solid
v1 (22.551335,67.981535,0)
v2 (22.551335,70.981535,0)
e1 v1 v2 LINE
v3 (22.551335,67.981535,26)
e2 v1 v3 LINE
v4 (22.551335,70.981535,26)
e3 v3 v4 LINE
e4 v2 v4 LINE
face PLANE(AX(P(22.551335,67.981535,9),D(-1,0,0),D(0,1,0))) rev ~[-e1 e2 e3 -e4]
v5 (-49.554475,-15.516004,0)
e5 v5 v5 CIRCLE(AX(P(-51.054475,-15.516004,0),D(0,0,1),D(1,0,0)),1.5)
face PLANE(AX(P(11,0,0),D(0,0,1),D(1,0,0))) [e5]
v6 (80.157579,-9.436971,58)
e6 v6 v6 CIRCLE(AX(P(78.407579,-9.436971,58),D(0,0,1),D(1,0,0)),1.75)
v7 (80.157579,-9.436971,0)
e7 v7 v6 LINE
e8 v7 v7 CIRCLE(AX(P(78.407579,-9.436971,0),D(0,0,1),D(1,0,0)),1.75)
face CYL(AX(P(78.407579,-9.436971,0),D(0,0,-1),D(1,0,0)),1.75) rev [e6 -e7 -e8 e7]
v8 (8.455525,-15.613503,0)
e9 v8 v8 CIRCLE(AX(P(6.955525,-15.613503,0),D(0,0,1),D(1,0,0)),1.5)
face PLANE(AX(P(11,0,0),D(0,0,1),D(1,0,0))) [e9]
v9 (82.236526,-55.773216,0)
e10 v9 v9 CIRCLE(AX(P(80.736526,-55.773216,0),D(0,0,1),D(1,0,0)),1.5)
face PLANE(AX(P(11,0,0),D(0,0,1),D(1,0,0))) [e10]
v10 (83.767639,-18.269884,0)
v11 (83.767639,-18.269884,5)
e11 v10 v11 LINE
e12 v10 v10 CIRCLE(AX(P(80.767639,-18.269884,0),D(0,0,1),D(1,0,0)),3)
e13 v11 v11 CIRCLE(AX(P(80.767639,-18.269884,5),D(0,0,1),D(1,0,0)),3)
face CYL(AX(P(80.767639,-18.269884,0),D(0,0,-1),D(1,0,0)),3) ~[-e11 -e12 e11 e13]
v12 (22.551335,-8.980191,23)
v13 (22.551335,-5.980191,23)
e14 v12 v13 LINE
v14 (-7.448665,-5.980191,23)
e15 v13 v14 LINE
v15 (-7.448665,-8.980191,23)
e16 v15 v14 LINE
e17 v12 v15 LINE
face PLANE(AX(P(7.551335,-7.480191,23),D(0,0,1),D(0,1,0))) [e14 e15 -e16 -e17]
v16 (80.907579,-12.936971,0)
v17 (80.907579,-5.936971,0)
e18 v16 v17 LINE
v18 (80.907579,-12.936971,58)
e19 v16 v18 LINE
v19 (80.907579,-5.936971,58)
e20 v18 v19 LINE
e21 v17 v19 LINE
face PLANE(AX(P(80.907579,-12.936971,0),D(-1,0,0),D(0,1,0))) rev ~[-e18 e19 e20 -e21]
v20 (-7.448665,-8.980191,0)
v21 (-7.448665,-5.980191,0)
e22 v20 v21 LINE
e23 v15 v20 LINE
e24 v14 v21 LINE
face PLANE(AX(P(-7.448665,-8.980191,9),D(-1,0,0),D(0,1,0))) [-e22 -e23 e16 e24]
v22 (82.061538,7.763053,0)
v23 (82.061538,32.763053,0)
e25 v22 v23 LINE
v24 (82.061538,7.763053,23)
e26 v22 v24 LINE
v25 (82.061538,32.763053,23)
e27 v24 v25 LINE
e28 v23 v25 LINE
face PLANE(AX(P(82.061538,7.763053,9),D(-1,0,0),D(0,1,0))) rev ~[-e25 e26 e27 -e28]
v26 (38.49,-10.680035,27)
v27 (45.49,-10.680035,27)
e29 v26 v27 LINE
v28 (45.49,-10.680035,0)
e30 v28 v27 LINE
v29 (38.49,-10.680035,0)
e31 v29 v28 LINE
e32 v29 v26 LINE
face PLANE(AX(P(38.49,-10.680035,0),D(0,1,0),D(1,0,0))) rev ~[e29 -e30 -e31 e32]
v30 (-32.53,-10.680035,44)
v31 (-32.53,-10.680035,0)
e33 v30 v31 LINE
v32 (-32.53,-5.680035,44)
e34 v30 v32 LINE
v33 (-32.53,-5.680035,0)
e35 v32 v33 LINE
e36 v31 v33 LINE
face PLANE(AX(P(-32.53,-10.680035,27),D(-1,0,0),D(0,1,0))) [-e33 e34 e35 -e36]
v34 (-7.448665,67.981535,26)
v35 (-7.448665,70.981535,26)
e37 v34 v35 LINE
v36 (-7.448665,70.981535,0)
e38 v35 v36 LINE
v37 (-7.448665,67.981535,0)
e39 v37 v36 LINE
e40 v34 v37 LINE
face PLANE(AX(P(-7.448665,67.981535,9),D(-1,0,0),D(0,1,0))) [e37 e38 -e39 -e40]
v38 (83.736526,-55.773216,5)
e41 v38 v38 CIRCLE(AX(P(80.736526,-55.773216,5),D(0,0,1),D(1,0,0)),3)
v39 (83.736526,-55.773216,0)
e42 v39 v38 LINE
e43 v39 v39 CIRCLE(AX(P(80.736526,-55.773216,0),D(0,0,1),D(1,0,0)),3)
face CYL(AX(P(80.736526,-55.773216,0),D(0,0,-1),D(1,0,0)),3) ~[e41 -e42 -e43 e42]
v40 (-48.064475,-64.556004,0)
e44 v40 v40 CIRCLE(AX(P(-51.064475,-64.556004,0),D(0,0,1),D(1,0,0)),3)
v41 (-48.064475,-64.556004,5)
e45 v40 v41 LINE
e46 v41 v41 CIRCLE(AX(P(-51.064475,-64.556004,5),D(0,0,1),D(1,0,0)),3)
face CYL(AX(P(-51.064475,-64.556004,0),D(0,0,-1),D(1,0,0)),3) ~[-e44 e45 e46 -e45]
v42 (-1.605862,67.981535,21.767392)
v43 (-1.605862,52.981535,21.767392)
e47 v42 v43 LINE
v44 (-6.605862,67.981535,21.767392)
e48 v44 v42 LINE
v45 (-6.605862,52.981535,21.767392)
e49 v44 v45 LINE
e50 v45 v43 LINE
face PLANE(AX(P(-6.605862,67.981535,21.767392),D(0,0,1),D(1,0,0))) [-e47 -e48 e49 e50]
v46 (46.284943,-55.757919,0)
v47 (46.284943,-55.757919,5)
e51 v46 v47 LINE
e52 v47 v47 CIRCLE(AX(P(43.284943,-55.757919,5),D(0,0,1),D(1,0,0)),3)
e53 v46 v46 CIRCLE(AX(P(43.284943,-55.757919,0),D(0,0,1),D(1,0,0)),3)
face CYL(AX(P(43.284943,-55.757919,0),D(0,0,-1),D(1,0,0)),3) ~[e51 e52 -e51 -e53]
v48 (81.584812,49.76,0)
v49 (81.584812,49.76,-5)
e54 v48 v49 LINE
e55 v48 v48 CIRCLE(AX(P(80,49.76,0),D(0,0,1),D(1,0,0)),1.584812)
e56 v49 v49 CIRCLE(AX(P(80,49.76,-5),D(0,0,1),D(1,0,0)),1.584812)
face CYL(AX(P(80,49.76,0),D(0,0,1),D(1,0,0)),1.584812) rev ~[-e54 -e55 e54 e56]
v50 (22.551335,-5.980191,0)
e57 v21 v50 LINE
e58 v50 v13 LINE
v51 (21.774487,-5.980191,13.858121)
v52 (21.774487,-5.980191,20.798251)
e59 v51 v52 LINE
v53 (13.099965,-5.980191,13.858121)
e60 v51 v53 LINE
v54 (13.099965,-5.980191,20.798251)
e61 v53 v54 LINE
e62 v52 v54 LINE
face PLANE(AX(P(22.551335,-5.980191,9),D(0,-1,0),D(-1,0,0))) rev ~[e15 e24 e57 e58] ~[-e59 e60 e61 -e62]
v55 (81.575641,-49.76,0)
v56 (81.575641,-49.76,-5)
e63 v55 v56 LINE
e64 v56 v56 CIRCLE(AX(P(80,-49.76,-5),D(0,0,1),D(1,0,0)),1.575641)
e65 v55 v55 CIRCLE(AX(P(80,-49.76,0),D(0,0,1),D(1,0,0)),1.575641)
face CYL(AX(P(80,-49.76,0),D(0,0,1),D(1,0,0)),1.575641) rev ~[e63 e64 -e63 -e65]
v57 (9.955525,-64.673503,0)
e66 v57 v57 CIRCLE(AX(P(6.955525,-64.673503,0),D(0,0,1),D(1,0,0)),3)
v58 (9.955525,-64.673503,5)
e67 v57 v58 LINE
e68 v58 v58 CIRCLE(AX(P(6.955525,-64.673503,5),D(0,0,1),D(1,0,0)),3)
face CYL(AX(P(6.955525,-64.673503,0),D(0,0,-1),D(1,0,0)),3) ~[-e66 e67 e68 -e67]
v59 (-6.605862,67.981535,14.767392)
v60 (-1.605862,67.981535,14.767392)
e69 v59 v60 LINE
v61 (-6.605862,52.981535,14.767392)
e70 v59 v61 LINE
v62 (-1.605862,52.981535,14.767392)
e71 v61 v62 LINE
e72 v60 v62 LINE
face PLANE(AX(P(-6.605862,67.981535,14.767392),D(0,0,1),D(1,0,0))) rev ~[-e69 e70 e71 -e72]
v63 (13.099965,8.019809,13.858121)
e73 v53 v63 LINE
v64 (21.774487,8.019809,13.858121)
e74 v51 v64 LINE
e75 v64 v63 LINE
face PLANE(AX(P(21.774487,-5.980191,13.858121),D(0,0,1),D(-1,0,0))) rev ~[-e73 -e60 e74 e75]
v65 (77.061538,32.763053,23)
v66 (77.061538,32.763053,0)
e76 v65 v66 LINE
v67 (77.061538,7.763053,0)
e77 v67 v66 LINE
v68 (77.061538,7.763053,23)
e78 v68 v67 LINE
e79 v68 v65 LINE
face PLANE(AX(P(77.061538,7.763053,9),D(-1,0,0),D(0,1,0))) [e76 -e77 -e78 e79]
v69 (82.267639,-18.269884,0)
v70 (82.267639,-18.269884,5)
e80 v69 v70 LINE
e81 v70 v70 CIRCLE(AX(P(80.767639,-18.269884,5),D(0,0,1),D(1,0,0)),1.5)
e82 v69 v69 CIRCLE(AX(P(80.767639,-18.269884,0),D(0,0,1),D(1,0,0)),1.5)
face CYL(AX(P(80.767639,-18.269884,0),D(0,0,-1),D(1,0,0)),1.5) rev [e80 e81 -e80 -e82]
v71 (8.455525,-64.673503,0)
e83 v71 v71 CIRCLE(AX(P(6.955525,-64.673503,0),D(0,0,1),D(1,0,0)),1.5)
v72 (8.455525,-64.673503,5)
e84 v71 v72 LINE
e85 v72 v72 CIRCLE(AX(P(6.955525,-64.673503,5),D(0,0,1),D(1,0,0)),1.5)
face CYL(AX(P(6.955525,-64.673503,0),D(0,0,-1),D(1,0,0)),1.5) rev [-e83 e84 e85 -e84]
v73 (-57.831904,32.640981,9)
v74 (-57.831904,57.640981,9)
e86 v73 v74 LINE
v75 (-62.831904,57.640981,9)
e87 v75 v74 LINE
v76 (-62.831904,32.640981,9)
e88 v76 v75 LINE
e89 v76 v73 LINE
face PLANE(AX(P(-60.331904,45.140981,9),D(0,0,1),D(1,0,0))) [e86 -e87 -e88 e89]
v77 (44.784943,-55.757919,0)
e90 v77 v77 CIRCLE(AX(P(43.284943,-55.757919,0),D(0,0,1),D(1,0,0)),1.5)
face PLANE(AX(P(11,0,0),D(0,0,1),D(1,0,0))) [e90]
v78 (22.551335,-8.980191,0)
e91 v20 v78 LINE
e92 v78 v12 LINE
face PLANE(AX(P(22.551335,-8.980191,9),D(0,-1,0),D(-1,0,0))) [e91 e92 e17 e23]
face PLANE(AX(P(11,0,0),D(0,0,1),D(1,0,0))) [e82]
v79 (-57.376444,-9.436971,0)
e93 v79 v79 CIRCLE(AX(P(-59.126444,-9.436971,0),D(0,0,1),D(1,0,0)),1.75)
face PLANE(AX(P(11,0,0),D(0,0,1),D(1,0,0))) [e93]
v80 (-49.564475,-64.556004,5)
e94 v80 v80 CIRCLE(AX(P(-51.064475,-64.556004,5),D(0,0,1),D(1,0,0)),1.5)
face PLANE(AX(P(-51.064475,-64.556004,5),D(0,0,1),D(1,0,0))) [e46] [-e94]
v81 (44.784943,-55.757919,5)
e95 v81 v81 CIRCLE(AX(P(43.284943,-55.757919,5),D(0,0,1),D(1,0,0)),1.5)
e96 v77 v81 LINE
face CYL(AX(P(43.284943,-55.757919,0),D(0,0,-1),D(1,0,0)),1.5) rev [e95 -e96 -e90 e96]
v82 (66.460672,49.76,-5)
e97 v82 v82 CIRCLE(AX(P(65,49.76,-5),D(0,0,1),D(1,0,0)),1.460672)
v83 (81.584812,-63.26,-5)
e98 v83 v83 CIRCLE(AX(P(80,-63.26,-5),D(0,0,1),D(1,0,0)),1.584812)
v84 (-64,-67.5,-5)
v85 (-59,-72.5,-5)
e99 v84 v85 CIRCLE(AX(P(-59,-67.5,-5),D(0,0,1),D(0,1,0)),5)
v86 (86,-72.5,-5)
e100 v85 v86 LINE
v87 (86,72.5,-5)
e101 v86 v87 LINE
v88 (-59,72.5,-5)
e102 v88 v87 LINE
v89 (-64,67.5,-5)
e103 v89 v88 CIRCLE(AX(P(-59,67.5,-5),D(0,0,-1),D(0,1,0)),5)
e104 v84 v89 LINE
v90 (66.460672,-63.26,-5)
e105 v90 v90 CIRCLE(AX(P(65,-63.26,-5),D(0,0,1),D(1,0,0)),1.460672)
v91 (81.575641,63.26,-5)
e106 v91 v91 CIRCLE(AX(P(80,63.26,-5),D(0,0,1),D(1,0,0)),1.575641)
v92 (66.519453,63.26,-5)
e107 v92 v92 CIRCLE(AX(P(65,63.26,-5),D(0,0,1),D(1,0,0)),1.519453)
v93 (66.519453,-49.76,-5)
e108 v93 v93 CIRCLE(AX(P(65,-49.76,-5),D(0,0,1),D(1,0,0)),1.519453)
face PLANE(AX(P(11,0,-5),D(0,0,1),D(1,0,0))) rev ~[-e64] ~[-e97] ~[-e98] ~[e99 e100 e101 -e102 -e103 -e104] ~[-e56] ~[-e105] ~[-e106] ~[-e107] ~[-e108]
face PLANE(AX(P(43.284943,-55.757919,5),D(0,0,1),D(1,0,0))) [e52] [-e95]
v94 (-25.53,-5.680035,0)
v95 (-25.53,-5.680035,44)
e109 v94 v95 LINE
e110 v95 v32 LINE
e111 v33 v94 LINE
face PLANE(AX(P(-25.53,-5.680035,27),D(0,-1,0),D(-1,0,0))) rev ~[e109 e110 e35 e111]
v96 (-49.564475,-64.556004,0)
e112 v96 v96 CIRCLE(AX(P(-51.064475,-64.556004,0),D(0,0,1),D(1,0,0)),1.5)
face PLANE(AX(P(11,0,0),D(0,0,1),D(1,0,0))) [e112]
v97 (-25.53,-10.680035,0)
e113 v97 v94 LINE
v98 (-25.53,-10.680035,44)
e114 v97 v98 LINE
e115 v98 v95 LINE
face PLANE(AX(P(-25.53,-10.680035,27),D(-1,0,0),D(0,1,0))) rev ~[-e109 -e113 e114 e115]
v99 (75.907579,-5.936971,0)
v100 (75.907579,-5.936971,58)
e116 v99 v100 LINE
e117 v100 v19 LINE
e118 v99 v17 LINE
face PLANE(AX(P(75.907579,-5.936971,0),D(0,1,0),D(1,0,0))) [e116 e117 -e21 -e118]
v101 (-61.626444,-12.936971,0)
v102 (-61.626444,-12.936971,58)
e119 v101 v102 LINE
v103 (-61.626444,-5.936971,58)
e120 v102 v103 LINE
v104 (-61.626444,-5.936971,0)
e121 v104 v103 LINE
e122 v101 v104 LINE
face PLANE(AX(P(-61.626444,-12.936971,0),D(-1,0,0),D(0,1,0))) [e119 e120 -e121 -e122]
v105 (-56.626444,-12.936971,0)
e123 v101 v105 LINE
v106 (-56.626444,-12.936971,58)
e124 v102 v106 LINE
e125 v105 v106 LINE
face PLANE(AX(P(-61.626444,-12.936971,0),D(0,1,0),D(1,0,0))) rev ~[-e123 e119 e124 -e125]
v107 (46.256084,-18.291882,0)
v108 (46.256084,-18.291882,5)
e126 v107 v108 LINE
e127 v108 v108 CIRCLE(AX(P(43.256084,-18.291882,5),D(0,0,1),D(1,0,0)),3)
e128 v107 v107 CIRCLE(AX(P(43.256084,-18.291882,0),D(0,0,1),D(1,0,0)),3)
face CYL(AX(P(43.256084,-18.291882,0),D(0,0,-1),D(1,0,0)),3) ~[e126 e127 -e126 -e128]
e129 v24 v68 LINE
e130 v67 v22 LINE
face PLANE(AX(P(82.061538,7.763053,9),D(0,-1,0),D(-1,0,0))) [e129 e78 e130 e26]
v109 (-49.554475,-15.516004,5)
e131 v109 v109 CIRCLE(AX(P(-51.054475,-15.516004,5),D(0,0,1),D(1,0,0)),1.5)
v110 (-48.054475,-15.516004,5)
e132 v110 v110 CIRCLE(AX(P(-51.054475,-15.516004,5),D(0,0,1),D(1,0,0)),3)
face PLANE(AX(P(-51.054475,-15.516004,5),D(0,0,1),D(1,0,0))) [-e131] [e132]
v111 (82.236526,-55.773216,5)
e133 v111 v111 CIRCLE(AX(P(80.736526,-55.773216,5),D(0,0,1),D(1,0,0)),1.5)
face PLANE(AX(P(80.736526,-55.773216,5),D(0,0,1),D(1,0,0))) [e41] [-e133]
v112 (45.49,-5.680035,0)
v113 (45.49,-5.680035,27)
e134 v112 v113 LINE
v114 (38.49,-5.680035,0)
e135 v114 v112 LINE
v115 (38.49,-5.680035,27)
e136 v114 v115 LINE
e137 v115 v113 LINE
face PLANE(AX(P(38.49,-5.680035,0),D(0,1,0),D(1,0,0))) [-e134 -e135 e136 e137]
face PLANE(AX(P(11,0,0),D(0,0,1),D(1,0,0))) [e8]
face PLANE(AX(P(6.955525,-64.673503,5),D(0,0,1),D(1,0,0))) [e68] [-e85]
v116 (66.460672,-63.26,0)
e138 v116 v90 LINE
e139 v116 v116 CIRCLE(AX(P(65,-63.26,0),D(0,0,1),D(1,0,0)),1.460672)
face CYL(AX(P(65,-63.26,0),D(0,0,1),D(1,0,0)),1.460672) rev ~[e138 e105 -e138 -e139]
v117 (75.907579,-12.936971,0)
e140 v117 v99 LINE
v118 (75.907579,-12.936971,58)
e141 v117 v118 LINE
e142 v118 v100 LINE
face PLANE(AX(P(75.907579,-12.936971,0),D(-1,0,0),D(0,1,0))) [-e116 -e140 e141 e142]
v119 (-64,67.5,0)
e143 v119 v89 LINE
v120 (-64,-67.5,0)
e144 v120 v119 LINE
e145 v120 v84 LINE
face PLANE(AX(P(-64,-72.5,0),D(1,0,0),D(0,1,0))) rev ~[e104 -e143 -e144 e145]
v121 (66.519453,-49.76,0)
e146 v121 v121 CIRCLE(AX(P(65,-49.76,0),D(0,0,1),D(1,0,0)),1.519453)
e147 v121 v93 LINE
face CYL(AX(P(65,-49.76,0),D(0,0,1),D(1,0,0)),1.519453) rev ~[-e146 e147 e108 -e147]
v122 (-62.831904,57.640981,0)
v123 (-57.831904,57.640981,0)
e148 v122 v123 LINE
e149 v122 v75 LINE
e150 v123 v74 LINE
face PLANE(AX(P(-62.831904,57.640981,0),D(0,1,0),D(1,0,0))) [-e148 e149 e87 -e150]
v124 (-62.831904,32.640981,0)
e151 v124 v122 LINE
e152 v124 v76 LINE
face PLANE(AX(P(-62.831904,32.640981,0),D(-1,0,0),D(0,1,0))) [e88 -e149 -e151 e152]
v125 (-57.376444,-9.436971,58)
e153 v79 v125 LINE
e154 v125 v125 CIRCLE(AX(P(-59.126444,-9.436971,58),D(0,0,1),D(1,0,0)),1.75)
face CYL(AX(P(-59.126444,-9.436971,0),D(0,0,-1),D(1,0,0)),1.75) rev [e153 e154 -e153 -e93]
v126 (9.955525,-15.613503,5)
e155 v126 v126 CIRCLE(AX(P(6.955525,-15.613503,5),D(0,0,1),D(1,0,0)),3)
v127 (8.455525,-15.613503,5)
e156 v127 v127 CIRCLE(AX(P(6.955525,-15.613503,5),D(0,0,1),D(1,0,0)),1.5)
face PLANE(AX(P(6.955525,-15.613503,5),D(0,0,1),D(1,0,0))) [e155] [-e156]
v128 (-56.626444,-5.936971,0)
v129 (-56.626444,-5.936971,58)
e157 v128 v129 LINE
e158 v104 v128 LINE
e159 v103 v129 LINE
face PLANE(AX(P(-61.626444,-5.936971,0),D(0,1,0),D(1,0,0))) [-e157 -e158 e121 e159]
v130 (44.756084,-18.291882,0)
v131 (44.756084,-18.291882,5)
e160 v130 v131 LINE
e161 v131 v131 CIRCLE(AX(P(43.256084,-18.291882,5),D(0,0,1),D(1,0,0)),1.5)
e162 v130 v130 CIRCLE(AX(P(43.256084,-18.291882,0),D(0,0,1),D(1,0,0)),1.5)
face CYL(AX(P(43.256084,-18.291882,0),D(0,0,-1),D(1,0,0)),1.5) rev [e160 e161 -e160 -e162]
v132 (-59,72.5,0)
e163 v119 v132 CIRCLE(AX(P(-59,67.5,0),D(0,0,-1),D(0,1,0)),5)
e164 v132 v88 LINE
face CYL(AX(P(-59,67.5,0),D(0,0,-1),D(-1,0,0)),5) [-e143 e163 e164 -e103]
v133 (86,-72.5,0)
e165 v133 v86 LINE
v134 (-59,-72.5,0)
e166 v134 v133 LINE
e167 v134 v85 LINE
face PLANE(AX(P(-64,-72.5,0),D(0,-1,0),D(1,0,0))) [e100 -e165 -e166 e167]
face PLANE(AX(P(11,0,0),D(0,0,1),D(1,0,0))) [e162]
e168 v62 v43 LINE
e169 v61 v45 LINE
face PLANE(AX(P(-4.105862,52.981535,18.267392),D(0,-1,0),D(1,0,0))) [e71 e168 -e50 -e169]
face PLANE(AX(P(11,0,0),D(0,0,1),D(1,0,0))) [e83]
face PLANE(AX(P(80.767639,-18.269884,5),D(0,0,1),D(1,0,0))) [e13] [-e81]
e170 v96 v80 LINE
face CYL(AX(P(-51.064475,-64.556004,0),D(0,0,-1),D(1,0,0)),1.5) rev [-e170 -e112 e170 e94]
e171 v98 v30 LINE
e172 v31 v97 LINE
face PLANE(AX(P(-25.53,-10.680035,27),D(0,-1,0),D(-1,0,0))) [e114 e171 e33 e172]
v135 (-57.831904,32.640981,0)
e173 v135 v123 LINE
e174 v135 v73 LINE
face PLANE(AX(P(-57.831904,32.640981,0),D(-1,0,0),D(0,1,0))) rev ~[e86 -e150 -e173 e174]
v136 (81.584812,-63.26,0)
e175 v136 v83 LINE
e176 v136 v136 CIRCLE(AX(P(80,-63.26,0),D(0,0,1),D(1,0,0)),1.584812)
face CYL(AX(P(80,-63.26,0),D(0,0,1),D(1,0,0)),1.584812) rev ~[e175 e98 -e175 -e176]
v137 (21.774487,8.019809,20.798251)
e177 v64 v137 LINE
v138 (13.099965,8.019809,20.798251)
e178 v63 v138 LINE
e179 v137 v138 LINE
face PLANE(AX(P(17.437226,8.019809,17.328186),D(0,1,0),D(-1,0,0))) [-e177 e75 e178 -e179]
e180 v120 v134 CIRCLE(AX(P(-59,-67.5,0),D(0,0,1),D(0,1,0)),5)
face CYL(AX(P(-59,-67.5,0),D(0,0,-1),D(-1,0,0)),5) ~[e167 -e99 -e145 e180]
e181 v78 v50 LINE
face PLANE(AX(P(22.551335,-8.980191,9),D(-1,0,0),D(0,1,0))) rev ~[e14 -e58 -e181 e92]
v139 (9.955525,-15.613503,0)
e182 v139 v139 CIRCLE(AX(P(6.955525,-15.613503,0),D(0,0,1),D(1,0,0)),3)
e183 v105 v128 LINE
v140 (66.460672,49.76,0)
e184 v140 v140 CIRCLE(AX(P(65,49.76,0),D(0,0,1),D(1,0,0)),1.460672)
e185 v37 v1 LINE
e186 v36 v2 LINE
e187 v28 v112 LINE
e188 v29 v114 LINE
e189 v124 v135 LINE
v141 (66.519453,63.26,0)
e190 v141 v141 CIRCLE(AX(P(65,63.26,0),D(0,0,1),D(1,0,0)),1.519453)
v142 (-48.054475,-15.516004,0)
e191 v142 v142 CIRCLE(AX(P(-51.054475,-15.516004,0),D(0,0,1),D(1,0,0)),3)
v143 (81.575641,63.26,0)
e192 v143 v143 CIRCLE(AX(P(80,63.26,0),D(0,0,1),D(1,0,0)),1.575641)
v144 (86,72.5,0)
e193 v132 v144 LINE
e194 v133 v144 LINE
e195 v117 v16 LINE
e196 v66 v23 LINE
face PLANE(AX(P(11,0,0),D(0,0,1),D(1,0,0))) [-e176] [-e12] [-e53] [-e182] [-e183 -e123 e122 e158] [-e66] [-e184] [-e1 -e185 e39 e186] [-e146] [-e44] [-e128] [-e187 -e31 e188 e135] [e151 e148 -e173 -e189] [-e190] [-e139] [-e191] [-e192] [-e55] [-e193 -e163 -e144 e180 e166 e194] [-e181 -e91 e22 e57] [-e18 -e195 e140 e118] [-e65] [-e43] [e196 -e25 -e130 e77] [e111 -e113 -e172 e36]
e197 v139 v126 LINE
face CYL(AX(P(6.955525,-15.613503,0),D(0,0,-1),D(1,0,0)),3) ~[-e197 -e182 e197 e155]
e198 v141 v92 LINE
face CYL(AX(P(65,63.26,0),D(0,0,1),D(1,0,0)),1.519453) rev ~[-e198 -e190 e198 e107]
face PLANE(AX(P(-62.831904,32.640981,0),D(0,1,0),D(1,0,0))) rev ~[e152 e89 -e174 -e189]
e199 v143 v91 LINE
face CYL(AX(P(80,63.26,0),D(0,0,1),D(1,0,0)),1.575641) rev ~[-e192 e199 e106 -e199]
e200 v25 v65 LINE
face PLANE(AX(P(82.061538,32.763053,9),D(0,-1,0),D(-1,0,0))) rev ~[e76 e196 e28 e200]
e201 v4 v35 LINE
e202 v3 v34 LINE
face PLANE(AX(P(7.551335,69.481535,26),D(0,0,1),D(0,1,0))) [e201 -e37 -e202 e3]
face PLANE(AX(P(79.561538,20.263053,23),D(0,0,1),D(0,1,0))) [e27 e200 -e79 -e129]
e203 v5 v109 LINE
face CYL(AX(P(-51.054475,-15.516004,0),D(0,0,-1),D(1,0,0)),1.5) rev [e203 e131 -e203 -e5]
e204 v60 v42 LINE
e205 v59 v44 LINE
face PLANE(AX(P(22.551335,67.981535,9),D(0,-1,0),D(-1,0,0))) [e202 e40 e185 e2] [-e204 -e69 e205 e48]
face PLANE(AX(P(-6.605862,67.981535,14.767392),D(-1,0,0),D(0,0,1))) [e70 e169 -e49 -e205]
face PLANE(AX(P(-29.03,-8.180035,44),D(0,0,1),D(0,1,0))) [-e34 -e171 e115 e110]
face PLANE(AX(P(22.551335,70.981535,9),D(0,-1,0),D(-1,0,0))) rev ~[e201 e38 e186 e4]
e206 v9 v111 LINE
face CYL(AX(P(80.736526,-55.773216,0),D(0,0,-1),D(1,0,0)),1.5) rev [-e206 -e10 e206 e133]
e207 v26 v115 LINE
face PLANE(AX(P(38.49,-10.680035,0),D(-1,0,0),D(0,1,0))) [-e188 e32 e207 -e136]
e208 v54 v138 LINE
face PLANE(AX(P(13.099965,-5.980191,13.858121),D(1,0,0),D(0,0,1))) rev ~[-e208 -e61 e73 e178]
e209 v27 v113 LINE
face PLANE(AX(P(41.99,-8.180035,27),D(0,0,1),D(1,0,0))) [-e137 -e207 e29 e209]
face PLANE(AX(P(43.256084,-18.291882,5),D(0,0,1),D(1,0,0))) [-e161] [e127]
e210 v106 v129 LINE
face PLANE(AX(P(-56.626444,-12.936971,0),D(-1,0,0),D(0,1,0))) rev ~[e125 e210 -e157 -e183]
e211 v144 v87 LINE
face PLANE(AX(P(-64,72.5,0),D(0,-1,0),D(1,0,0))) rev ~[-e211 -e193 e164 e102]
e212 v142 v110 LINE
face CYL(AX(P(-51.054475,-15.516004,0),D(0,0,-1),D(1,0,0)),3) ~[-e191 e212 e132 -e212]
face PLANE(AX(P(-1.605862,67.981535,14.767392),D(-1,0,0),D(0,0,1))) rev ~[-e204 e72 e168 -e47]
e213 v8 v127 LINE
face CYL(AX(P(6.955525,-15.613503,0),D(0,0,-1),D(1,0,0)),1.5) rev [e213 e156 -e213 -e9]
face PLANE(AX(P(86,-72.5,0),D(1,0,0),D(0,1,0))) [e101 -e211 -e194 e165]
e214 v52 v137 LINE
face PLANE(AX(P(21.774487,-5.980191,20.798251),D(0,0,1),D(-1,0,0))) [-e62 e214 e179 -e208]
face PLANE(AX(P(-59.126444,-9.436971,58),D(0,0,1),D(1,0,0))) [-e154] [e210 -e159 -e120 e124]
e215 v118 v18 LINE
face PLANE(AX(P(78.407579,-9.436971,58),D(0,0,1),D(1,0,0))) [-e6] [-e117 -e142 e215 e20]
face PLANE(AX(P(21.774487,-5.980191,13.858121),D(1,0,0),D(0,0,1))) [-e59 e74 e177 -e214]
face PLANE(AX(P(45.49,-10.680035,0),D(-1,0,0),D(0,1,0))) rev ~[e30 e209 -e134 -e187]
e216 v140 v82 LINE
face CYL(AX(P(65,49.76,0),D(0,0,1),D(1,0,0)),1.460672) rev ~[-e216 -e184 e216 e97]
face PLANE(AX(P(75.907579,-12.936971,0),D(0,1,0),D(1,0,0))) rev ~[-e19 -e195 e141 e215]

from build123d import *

# Parameters (mm, degrees)
SKETCH_W        = 150
SKETCH_H        = 145
PAD_DEPTH       = 5
SKETCH001_R     = 1.519453
SKETCH001_R_2   = 1.575641
SKETCH001_R_3   = 1.584812
SKETCH001_R_4   = 1.460672
POCKET_DEPTH    = 5
SKETCH003_R     = 3
SKETCH003_R_2   = 1.5
PAD002_DEPTH    = 5
SKETCH004_W     = 5
SKETCH004_H     = 25
SKETCH004_W_2   = 30
SKETCH004_H_2   = 3
PAD003_DEPTH    = 9
SKETCH005_W     = 7
SKETCH005_H     = 5
PAD004_DEPTH    = 27
PAD003_FACE49_W = 3
PAD003_FACE49_H = 30
PAD006_DEPTH    = 17
SKETCH008_W     = 5
SKETCH008_H     = 7
PAD007_DEPTH    = 15
PAD007_FACE50_W = 5
PAD007_FACE50_H = 7
PAD008_DEPTH    = 17
PAD008_FACE55_W = 3
PAD008_FACE55_H = 30
PAD009_DEPTH    = 14
SKETCH009_W     = 8.674523
SKETCH009_H     = 6.940131
PAD010_DEPTH    = 14
PAD010_FACE69_W = 25
PAD010_FACE69_H = 5
PAD011_DEPTH    = 14
SKETCH012_W     = 5
SKETCH012_H     = 7
SKETCH012_R     = 1.75
PAD013_DEPTH    = 58
FILLET001_R     = 5


with BuildPart() as part:
    # Sketch → Pad (new body)
    with BuildSketch(Plane.XY):
        Rectangle(SKETCH_W, SKETCH_H)
    extrude(amount=-PAD_DEPTH)

    # Sketch001 (on Face5 of Pad) → Pocket (cut)
    with BuildSketch(Plane.XY):
        with Locations((54, 63.26)):
            Circle(SKETCH001_R)
        with Locations((69, 63.26)):
            Circle(SKETCH001_R_2)
        with Locations((69, 49.76)):
            Circle(SKETCH001_R_3)
        with Locations((54, 49.76)):
            Circle(SKETCH001_R_4)
        with Locations((54, -49.76)):
            Circle(SKETCH001_R)
        with Locations((69, -49.76)):
            Circle(SKETCH001_R_2)
        with Locations((69, -63.26)):
            Circle(SKETCH001_R_3)
        with Locations((54, -63.26)):
            Circle(SKETCH001_R_4)
    extrude(amount=-POCKET_DEPTH, mode=Mode.SUBTRACT)

    # Sketch003 (on Face4 of Pocket) → Pad002 (join)
    with BuildSketch(Plane.XY):
        with Locations((69.767639, -18.269884)):
            Circle(SKETCH003_R)
        with Locations((69.767639, -18.269884)):
            Circle(SKETCH003_R_2, mode=Mode.SUBTRACT)
        with Locations((32.256084, -18.291882)):
            Circle(SKETCH003_R)
        with Locations((32.256084, -18.291882)):
            Circle(SKETCH003_R_2, mode=Mode.SUBTRACT)
        with Locations((32.284943, -55.757919)):
            Circle(SKETCH003_R)
        with Locations((32.284943, -55.757919)):
            Circle(SKETCH003_R_2, mode=Mode.SUBTRACT)
        with Locations((69.736526, -55.773216)):
            Circle(SKETCH003_R)
        with Locations((69.736526, -55.773216)):
            Circle(SKETCH003_R_2, mode=Mode.SUBTRACT)
        with Locations((-62.054475, -15.516004)):
            Circle(SKETCH003_R)
        with Locations((-62.054475, -15.516004)):
            Circle(SKETCH003_R_2, mode=Mode.SUBTRACT)
        with Locations((-4.044475, -15.613503)):
            Circle(SKETCH003_R)
        with Locations((-4.044475, -15.613503)):
            Circle(SKETCH003_R_2, mode=Mode.SUBTRACT)
        with Locations((-4.044475, -64.673503)):
            Circle(SKETCH003_R)
        with Locations((-4.044475, -64.673503)):
            Circle(SKETCH003_R_2, mode=Mode.SUBTRACT)
        with Locations((-62.064475, -64.556004)):
            Circle(SKETCH003_R)
        with Locations((-62.064475, -64.556004)):
            Circle(SKETCH003_R_2, mode=Mode.SUBTRACT)
    extrude(amount=PAD002_DEPTH)

    # Sketch004 (on Face4 of Pad002) → Pad003 (join)
    with BuildSketch(Plane.XY):
        with Locations((68.561538, 20.263053)):
            Rectangle(SKETCH004_W, SKETCH004_H)
        with Locations((-71.331904, 45.140981)):
            Rectangle(SKETCH004_W, SKETCH004_H)
        with Locations((-3.448665, 69.481535)):
            Rectangle(SKETCH004_W_2, SKETCH004_H_2)
        with Locations((-3.448665, -7.480191)):
            Rectangle(SKETCH004_W_2, SKETCH004_H_2)
    extrude(amount=PAD003_DEPTH)

    # Sketch005 (on Face4 of Pad003) → Pad004 (join)
    with BuildSketch(Plane.XY):
        with Locations((-40.03, -8.180035)):
            Rectangle(SKETCH005_W, SKETCH005_H)
        with Locations((30.99, -8.180035)):
            Rectangle(SKETCH005_W, SKETCH005_H)
    extrude(amount=PAD004_DEPTH)

    # Pad003 Face49 → Pad006 (add)
    with BuildSketch(Plane(origin=(-3.448665, 69.481535, 9), x_dir=(0, 1, 0), z_dir=(0, 0, 1))):
        Rectangle(PAD003_FACE49_W, PAD003_FACE49_H)
    extrude(amount=PAD006_DEPTH)

    # Sketch008 (on Face60 of Pad006) → Pad007 (join)
    with BuildSketch(Plane.XZ.offset(-67.981535)):
        with Locations((-15.105862, 18.267392)):
            Rectangle(SKETCH008_W, SKETCH008_H)
    extrude(amount=PAD007_DEPTH)

    # Pad007 Face50 → Pad008 (add)
    with BuildSketch(Plane(origin=(-40.03, -8.180035, 27), x_dir=(0, 1, 0), z_dir=(0, 0, 1))):
        Rectangle(PAD007_FACE50_W, PAD007_FACE50_H)
    extrude(amount=PAD008_DEPTH)

    # Pad008 Face55 → Pad009 (add)
    with BuildSketch(Plane(origin=(-3.448665, -7.480191, 9), x_dir=(0, 1, 0), z_dir=(0, 0, 1))):
        Rectangle(PAD008_FACE55_W, PAD008_FACE55_H)
    extrude(amount=PAD009_DEPTH)

    # Sketch009 (on Face58 of Pad009) → Pad010 (join)
    with BuildSketch(Plane(origin=(0, -5.980191, 0), x_dir=(-1, 0, 0), z_dir=(0, 1, 0))):
        with Locations((-6.437226, 17.328186)):
            Rectangle(SKETCH009_W, SKETCH009_H)
    extrude(amount=PAD010_DEPTH)

    # Pad010 Face69 → Pad011 (add)
    with BuildSketch(Plane(origin=(68.561538, 20.263053, 9), x_dir=(0, 1, 0), z_dir=(0, 0, 1))):
        Rectangle(PAD010_FACE69_W, PAD010_FACE69_H)
    extrude(amount=PAD011_DEPTH)

    # Sketch012 (on Face4 of Pad011) → Pad013 (join)
    with BuildSketch(Plane.XY):
        with Locations((-70.126444, -9.436971)):
            Rectangle(SKETCH012_W, SKETCH012_H)
        with Locations((-70.126444, -9.436971)):
            Circle(SKETCH012_R, mode=Mode.SUBTRACT)
        with Locations((67.407579, -9.436971)):
            Rectangle(SKETCH012_W, SKETCH012_H)
        with Locations((67.407579, -9.436971)):
            Circle(SKETCH012_R, mode=Mode.SUBTRACT)
    extrude(amount=PAD013_DEPTH)

    # Fillet001
    fillet001_edges = [part.edges().sort_by_distance(p)[0] for p in [
        (-75, 72.5, -2.5),
        (-75, -72.5, -2.5),
    ]]
    fillet(fillet001_edges, radius=FILLET001_R)


with BuildPart() as part_1:
    # Body001 placement: moved
    add(part.part.moved(Location((11, 0, 0))))


solid = part_1.part
